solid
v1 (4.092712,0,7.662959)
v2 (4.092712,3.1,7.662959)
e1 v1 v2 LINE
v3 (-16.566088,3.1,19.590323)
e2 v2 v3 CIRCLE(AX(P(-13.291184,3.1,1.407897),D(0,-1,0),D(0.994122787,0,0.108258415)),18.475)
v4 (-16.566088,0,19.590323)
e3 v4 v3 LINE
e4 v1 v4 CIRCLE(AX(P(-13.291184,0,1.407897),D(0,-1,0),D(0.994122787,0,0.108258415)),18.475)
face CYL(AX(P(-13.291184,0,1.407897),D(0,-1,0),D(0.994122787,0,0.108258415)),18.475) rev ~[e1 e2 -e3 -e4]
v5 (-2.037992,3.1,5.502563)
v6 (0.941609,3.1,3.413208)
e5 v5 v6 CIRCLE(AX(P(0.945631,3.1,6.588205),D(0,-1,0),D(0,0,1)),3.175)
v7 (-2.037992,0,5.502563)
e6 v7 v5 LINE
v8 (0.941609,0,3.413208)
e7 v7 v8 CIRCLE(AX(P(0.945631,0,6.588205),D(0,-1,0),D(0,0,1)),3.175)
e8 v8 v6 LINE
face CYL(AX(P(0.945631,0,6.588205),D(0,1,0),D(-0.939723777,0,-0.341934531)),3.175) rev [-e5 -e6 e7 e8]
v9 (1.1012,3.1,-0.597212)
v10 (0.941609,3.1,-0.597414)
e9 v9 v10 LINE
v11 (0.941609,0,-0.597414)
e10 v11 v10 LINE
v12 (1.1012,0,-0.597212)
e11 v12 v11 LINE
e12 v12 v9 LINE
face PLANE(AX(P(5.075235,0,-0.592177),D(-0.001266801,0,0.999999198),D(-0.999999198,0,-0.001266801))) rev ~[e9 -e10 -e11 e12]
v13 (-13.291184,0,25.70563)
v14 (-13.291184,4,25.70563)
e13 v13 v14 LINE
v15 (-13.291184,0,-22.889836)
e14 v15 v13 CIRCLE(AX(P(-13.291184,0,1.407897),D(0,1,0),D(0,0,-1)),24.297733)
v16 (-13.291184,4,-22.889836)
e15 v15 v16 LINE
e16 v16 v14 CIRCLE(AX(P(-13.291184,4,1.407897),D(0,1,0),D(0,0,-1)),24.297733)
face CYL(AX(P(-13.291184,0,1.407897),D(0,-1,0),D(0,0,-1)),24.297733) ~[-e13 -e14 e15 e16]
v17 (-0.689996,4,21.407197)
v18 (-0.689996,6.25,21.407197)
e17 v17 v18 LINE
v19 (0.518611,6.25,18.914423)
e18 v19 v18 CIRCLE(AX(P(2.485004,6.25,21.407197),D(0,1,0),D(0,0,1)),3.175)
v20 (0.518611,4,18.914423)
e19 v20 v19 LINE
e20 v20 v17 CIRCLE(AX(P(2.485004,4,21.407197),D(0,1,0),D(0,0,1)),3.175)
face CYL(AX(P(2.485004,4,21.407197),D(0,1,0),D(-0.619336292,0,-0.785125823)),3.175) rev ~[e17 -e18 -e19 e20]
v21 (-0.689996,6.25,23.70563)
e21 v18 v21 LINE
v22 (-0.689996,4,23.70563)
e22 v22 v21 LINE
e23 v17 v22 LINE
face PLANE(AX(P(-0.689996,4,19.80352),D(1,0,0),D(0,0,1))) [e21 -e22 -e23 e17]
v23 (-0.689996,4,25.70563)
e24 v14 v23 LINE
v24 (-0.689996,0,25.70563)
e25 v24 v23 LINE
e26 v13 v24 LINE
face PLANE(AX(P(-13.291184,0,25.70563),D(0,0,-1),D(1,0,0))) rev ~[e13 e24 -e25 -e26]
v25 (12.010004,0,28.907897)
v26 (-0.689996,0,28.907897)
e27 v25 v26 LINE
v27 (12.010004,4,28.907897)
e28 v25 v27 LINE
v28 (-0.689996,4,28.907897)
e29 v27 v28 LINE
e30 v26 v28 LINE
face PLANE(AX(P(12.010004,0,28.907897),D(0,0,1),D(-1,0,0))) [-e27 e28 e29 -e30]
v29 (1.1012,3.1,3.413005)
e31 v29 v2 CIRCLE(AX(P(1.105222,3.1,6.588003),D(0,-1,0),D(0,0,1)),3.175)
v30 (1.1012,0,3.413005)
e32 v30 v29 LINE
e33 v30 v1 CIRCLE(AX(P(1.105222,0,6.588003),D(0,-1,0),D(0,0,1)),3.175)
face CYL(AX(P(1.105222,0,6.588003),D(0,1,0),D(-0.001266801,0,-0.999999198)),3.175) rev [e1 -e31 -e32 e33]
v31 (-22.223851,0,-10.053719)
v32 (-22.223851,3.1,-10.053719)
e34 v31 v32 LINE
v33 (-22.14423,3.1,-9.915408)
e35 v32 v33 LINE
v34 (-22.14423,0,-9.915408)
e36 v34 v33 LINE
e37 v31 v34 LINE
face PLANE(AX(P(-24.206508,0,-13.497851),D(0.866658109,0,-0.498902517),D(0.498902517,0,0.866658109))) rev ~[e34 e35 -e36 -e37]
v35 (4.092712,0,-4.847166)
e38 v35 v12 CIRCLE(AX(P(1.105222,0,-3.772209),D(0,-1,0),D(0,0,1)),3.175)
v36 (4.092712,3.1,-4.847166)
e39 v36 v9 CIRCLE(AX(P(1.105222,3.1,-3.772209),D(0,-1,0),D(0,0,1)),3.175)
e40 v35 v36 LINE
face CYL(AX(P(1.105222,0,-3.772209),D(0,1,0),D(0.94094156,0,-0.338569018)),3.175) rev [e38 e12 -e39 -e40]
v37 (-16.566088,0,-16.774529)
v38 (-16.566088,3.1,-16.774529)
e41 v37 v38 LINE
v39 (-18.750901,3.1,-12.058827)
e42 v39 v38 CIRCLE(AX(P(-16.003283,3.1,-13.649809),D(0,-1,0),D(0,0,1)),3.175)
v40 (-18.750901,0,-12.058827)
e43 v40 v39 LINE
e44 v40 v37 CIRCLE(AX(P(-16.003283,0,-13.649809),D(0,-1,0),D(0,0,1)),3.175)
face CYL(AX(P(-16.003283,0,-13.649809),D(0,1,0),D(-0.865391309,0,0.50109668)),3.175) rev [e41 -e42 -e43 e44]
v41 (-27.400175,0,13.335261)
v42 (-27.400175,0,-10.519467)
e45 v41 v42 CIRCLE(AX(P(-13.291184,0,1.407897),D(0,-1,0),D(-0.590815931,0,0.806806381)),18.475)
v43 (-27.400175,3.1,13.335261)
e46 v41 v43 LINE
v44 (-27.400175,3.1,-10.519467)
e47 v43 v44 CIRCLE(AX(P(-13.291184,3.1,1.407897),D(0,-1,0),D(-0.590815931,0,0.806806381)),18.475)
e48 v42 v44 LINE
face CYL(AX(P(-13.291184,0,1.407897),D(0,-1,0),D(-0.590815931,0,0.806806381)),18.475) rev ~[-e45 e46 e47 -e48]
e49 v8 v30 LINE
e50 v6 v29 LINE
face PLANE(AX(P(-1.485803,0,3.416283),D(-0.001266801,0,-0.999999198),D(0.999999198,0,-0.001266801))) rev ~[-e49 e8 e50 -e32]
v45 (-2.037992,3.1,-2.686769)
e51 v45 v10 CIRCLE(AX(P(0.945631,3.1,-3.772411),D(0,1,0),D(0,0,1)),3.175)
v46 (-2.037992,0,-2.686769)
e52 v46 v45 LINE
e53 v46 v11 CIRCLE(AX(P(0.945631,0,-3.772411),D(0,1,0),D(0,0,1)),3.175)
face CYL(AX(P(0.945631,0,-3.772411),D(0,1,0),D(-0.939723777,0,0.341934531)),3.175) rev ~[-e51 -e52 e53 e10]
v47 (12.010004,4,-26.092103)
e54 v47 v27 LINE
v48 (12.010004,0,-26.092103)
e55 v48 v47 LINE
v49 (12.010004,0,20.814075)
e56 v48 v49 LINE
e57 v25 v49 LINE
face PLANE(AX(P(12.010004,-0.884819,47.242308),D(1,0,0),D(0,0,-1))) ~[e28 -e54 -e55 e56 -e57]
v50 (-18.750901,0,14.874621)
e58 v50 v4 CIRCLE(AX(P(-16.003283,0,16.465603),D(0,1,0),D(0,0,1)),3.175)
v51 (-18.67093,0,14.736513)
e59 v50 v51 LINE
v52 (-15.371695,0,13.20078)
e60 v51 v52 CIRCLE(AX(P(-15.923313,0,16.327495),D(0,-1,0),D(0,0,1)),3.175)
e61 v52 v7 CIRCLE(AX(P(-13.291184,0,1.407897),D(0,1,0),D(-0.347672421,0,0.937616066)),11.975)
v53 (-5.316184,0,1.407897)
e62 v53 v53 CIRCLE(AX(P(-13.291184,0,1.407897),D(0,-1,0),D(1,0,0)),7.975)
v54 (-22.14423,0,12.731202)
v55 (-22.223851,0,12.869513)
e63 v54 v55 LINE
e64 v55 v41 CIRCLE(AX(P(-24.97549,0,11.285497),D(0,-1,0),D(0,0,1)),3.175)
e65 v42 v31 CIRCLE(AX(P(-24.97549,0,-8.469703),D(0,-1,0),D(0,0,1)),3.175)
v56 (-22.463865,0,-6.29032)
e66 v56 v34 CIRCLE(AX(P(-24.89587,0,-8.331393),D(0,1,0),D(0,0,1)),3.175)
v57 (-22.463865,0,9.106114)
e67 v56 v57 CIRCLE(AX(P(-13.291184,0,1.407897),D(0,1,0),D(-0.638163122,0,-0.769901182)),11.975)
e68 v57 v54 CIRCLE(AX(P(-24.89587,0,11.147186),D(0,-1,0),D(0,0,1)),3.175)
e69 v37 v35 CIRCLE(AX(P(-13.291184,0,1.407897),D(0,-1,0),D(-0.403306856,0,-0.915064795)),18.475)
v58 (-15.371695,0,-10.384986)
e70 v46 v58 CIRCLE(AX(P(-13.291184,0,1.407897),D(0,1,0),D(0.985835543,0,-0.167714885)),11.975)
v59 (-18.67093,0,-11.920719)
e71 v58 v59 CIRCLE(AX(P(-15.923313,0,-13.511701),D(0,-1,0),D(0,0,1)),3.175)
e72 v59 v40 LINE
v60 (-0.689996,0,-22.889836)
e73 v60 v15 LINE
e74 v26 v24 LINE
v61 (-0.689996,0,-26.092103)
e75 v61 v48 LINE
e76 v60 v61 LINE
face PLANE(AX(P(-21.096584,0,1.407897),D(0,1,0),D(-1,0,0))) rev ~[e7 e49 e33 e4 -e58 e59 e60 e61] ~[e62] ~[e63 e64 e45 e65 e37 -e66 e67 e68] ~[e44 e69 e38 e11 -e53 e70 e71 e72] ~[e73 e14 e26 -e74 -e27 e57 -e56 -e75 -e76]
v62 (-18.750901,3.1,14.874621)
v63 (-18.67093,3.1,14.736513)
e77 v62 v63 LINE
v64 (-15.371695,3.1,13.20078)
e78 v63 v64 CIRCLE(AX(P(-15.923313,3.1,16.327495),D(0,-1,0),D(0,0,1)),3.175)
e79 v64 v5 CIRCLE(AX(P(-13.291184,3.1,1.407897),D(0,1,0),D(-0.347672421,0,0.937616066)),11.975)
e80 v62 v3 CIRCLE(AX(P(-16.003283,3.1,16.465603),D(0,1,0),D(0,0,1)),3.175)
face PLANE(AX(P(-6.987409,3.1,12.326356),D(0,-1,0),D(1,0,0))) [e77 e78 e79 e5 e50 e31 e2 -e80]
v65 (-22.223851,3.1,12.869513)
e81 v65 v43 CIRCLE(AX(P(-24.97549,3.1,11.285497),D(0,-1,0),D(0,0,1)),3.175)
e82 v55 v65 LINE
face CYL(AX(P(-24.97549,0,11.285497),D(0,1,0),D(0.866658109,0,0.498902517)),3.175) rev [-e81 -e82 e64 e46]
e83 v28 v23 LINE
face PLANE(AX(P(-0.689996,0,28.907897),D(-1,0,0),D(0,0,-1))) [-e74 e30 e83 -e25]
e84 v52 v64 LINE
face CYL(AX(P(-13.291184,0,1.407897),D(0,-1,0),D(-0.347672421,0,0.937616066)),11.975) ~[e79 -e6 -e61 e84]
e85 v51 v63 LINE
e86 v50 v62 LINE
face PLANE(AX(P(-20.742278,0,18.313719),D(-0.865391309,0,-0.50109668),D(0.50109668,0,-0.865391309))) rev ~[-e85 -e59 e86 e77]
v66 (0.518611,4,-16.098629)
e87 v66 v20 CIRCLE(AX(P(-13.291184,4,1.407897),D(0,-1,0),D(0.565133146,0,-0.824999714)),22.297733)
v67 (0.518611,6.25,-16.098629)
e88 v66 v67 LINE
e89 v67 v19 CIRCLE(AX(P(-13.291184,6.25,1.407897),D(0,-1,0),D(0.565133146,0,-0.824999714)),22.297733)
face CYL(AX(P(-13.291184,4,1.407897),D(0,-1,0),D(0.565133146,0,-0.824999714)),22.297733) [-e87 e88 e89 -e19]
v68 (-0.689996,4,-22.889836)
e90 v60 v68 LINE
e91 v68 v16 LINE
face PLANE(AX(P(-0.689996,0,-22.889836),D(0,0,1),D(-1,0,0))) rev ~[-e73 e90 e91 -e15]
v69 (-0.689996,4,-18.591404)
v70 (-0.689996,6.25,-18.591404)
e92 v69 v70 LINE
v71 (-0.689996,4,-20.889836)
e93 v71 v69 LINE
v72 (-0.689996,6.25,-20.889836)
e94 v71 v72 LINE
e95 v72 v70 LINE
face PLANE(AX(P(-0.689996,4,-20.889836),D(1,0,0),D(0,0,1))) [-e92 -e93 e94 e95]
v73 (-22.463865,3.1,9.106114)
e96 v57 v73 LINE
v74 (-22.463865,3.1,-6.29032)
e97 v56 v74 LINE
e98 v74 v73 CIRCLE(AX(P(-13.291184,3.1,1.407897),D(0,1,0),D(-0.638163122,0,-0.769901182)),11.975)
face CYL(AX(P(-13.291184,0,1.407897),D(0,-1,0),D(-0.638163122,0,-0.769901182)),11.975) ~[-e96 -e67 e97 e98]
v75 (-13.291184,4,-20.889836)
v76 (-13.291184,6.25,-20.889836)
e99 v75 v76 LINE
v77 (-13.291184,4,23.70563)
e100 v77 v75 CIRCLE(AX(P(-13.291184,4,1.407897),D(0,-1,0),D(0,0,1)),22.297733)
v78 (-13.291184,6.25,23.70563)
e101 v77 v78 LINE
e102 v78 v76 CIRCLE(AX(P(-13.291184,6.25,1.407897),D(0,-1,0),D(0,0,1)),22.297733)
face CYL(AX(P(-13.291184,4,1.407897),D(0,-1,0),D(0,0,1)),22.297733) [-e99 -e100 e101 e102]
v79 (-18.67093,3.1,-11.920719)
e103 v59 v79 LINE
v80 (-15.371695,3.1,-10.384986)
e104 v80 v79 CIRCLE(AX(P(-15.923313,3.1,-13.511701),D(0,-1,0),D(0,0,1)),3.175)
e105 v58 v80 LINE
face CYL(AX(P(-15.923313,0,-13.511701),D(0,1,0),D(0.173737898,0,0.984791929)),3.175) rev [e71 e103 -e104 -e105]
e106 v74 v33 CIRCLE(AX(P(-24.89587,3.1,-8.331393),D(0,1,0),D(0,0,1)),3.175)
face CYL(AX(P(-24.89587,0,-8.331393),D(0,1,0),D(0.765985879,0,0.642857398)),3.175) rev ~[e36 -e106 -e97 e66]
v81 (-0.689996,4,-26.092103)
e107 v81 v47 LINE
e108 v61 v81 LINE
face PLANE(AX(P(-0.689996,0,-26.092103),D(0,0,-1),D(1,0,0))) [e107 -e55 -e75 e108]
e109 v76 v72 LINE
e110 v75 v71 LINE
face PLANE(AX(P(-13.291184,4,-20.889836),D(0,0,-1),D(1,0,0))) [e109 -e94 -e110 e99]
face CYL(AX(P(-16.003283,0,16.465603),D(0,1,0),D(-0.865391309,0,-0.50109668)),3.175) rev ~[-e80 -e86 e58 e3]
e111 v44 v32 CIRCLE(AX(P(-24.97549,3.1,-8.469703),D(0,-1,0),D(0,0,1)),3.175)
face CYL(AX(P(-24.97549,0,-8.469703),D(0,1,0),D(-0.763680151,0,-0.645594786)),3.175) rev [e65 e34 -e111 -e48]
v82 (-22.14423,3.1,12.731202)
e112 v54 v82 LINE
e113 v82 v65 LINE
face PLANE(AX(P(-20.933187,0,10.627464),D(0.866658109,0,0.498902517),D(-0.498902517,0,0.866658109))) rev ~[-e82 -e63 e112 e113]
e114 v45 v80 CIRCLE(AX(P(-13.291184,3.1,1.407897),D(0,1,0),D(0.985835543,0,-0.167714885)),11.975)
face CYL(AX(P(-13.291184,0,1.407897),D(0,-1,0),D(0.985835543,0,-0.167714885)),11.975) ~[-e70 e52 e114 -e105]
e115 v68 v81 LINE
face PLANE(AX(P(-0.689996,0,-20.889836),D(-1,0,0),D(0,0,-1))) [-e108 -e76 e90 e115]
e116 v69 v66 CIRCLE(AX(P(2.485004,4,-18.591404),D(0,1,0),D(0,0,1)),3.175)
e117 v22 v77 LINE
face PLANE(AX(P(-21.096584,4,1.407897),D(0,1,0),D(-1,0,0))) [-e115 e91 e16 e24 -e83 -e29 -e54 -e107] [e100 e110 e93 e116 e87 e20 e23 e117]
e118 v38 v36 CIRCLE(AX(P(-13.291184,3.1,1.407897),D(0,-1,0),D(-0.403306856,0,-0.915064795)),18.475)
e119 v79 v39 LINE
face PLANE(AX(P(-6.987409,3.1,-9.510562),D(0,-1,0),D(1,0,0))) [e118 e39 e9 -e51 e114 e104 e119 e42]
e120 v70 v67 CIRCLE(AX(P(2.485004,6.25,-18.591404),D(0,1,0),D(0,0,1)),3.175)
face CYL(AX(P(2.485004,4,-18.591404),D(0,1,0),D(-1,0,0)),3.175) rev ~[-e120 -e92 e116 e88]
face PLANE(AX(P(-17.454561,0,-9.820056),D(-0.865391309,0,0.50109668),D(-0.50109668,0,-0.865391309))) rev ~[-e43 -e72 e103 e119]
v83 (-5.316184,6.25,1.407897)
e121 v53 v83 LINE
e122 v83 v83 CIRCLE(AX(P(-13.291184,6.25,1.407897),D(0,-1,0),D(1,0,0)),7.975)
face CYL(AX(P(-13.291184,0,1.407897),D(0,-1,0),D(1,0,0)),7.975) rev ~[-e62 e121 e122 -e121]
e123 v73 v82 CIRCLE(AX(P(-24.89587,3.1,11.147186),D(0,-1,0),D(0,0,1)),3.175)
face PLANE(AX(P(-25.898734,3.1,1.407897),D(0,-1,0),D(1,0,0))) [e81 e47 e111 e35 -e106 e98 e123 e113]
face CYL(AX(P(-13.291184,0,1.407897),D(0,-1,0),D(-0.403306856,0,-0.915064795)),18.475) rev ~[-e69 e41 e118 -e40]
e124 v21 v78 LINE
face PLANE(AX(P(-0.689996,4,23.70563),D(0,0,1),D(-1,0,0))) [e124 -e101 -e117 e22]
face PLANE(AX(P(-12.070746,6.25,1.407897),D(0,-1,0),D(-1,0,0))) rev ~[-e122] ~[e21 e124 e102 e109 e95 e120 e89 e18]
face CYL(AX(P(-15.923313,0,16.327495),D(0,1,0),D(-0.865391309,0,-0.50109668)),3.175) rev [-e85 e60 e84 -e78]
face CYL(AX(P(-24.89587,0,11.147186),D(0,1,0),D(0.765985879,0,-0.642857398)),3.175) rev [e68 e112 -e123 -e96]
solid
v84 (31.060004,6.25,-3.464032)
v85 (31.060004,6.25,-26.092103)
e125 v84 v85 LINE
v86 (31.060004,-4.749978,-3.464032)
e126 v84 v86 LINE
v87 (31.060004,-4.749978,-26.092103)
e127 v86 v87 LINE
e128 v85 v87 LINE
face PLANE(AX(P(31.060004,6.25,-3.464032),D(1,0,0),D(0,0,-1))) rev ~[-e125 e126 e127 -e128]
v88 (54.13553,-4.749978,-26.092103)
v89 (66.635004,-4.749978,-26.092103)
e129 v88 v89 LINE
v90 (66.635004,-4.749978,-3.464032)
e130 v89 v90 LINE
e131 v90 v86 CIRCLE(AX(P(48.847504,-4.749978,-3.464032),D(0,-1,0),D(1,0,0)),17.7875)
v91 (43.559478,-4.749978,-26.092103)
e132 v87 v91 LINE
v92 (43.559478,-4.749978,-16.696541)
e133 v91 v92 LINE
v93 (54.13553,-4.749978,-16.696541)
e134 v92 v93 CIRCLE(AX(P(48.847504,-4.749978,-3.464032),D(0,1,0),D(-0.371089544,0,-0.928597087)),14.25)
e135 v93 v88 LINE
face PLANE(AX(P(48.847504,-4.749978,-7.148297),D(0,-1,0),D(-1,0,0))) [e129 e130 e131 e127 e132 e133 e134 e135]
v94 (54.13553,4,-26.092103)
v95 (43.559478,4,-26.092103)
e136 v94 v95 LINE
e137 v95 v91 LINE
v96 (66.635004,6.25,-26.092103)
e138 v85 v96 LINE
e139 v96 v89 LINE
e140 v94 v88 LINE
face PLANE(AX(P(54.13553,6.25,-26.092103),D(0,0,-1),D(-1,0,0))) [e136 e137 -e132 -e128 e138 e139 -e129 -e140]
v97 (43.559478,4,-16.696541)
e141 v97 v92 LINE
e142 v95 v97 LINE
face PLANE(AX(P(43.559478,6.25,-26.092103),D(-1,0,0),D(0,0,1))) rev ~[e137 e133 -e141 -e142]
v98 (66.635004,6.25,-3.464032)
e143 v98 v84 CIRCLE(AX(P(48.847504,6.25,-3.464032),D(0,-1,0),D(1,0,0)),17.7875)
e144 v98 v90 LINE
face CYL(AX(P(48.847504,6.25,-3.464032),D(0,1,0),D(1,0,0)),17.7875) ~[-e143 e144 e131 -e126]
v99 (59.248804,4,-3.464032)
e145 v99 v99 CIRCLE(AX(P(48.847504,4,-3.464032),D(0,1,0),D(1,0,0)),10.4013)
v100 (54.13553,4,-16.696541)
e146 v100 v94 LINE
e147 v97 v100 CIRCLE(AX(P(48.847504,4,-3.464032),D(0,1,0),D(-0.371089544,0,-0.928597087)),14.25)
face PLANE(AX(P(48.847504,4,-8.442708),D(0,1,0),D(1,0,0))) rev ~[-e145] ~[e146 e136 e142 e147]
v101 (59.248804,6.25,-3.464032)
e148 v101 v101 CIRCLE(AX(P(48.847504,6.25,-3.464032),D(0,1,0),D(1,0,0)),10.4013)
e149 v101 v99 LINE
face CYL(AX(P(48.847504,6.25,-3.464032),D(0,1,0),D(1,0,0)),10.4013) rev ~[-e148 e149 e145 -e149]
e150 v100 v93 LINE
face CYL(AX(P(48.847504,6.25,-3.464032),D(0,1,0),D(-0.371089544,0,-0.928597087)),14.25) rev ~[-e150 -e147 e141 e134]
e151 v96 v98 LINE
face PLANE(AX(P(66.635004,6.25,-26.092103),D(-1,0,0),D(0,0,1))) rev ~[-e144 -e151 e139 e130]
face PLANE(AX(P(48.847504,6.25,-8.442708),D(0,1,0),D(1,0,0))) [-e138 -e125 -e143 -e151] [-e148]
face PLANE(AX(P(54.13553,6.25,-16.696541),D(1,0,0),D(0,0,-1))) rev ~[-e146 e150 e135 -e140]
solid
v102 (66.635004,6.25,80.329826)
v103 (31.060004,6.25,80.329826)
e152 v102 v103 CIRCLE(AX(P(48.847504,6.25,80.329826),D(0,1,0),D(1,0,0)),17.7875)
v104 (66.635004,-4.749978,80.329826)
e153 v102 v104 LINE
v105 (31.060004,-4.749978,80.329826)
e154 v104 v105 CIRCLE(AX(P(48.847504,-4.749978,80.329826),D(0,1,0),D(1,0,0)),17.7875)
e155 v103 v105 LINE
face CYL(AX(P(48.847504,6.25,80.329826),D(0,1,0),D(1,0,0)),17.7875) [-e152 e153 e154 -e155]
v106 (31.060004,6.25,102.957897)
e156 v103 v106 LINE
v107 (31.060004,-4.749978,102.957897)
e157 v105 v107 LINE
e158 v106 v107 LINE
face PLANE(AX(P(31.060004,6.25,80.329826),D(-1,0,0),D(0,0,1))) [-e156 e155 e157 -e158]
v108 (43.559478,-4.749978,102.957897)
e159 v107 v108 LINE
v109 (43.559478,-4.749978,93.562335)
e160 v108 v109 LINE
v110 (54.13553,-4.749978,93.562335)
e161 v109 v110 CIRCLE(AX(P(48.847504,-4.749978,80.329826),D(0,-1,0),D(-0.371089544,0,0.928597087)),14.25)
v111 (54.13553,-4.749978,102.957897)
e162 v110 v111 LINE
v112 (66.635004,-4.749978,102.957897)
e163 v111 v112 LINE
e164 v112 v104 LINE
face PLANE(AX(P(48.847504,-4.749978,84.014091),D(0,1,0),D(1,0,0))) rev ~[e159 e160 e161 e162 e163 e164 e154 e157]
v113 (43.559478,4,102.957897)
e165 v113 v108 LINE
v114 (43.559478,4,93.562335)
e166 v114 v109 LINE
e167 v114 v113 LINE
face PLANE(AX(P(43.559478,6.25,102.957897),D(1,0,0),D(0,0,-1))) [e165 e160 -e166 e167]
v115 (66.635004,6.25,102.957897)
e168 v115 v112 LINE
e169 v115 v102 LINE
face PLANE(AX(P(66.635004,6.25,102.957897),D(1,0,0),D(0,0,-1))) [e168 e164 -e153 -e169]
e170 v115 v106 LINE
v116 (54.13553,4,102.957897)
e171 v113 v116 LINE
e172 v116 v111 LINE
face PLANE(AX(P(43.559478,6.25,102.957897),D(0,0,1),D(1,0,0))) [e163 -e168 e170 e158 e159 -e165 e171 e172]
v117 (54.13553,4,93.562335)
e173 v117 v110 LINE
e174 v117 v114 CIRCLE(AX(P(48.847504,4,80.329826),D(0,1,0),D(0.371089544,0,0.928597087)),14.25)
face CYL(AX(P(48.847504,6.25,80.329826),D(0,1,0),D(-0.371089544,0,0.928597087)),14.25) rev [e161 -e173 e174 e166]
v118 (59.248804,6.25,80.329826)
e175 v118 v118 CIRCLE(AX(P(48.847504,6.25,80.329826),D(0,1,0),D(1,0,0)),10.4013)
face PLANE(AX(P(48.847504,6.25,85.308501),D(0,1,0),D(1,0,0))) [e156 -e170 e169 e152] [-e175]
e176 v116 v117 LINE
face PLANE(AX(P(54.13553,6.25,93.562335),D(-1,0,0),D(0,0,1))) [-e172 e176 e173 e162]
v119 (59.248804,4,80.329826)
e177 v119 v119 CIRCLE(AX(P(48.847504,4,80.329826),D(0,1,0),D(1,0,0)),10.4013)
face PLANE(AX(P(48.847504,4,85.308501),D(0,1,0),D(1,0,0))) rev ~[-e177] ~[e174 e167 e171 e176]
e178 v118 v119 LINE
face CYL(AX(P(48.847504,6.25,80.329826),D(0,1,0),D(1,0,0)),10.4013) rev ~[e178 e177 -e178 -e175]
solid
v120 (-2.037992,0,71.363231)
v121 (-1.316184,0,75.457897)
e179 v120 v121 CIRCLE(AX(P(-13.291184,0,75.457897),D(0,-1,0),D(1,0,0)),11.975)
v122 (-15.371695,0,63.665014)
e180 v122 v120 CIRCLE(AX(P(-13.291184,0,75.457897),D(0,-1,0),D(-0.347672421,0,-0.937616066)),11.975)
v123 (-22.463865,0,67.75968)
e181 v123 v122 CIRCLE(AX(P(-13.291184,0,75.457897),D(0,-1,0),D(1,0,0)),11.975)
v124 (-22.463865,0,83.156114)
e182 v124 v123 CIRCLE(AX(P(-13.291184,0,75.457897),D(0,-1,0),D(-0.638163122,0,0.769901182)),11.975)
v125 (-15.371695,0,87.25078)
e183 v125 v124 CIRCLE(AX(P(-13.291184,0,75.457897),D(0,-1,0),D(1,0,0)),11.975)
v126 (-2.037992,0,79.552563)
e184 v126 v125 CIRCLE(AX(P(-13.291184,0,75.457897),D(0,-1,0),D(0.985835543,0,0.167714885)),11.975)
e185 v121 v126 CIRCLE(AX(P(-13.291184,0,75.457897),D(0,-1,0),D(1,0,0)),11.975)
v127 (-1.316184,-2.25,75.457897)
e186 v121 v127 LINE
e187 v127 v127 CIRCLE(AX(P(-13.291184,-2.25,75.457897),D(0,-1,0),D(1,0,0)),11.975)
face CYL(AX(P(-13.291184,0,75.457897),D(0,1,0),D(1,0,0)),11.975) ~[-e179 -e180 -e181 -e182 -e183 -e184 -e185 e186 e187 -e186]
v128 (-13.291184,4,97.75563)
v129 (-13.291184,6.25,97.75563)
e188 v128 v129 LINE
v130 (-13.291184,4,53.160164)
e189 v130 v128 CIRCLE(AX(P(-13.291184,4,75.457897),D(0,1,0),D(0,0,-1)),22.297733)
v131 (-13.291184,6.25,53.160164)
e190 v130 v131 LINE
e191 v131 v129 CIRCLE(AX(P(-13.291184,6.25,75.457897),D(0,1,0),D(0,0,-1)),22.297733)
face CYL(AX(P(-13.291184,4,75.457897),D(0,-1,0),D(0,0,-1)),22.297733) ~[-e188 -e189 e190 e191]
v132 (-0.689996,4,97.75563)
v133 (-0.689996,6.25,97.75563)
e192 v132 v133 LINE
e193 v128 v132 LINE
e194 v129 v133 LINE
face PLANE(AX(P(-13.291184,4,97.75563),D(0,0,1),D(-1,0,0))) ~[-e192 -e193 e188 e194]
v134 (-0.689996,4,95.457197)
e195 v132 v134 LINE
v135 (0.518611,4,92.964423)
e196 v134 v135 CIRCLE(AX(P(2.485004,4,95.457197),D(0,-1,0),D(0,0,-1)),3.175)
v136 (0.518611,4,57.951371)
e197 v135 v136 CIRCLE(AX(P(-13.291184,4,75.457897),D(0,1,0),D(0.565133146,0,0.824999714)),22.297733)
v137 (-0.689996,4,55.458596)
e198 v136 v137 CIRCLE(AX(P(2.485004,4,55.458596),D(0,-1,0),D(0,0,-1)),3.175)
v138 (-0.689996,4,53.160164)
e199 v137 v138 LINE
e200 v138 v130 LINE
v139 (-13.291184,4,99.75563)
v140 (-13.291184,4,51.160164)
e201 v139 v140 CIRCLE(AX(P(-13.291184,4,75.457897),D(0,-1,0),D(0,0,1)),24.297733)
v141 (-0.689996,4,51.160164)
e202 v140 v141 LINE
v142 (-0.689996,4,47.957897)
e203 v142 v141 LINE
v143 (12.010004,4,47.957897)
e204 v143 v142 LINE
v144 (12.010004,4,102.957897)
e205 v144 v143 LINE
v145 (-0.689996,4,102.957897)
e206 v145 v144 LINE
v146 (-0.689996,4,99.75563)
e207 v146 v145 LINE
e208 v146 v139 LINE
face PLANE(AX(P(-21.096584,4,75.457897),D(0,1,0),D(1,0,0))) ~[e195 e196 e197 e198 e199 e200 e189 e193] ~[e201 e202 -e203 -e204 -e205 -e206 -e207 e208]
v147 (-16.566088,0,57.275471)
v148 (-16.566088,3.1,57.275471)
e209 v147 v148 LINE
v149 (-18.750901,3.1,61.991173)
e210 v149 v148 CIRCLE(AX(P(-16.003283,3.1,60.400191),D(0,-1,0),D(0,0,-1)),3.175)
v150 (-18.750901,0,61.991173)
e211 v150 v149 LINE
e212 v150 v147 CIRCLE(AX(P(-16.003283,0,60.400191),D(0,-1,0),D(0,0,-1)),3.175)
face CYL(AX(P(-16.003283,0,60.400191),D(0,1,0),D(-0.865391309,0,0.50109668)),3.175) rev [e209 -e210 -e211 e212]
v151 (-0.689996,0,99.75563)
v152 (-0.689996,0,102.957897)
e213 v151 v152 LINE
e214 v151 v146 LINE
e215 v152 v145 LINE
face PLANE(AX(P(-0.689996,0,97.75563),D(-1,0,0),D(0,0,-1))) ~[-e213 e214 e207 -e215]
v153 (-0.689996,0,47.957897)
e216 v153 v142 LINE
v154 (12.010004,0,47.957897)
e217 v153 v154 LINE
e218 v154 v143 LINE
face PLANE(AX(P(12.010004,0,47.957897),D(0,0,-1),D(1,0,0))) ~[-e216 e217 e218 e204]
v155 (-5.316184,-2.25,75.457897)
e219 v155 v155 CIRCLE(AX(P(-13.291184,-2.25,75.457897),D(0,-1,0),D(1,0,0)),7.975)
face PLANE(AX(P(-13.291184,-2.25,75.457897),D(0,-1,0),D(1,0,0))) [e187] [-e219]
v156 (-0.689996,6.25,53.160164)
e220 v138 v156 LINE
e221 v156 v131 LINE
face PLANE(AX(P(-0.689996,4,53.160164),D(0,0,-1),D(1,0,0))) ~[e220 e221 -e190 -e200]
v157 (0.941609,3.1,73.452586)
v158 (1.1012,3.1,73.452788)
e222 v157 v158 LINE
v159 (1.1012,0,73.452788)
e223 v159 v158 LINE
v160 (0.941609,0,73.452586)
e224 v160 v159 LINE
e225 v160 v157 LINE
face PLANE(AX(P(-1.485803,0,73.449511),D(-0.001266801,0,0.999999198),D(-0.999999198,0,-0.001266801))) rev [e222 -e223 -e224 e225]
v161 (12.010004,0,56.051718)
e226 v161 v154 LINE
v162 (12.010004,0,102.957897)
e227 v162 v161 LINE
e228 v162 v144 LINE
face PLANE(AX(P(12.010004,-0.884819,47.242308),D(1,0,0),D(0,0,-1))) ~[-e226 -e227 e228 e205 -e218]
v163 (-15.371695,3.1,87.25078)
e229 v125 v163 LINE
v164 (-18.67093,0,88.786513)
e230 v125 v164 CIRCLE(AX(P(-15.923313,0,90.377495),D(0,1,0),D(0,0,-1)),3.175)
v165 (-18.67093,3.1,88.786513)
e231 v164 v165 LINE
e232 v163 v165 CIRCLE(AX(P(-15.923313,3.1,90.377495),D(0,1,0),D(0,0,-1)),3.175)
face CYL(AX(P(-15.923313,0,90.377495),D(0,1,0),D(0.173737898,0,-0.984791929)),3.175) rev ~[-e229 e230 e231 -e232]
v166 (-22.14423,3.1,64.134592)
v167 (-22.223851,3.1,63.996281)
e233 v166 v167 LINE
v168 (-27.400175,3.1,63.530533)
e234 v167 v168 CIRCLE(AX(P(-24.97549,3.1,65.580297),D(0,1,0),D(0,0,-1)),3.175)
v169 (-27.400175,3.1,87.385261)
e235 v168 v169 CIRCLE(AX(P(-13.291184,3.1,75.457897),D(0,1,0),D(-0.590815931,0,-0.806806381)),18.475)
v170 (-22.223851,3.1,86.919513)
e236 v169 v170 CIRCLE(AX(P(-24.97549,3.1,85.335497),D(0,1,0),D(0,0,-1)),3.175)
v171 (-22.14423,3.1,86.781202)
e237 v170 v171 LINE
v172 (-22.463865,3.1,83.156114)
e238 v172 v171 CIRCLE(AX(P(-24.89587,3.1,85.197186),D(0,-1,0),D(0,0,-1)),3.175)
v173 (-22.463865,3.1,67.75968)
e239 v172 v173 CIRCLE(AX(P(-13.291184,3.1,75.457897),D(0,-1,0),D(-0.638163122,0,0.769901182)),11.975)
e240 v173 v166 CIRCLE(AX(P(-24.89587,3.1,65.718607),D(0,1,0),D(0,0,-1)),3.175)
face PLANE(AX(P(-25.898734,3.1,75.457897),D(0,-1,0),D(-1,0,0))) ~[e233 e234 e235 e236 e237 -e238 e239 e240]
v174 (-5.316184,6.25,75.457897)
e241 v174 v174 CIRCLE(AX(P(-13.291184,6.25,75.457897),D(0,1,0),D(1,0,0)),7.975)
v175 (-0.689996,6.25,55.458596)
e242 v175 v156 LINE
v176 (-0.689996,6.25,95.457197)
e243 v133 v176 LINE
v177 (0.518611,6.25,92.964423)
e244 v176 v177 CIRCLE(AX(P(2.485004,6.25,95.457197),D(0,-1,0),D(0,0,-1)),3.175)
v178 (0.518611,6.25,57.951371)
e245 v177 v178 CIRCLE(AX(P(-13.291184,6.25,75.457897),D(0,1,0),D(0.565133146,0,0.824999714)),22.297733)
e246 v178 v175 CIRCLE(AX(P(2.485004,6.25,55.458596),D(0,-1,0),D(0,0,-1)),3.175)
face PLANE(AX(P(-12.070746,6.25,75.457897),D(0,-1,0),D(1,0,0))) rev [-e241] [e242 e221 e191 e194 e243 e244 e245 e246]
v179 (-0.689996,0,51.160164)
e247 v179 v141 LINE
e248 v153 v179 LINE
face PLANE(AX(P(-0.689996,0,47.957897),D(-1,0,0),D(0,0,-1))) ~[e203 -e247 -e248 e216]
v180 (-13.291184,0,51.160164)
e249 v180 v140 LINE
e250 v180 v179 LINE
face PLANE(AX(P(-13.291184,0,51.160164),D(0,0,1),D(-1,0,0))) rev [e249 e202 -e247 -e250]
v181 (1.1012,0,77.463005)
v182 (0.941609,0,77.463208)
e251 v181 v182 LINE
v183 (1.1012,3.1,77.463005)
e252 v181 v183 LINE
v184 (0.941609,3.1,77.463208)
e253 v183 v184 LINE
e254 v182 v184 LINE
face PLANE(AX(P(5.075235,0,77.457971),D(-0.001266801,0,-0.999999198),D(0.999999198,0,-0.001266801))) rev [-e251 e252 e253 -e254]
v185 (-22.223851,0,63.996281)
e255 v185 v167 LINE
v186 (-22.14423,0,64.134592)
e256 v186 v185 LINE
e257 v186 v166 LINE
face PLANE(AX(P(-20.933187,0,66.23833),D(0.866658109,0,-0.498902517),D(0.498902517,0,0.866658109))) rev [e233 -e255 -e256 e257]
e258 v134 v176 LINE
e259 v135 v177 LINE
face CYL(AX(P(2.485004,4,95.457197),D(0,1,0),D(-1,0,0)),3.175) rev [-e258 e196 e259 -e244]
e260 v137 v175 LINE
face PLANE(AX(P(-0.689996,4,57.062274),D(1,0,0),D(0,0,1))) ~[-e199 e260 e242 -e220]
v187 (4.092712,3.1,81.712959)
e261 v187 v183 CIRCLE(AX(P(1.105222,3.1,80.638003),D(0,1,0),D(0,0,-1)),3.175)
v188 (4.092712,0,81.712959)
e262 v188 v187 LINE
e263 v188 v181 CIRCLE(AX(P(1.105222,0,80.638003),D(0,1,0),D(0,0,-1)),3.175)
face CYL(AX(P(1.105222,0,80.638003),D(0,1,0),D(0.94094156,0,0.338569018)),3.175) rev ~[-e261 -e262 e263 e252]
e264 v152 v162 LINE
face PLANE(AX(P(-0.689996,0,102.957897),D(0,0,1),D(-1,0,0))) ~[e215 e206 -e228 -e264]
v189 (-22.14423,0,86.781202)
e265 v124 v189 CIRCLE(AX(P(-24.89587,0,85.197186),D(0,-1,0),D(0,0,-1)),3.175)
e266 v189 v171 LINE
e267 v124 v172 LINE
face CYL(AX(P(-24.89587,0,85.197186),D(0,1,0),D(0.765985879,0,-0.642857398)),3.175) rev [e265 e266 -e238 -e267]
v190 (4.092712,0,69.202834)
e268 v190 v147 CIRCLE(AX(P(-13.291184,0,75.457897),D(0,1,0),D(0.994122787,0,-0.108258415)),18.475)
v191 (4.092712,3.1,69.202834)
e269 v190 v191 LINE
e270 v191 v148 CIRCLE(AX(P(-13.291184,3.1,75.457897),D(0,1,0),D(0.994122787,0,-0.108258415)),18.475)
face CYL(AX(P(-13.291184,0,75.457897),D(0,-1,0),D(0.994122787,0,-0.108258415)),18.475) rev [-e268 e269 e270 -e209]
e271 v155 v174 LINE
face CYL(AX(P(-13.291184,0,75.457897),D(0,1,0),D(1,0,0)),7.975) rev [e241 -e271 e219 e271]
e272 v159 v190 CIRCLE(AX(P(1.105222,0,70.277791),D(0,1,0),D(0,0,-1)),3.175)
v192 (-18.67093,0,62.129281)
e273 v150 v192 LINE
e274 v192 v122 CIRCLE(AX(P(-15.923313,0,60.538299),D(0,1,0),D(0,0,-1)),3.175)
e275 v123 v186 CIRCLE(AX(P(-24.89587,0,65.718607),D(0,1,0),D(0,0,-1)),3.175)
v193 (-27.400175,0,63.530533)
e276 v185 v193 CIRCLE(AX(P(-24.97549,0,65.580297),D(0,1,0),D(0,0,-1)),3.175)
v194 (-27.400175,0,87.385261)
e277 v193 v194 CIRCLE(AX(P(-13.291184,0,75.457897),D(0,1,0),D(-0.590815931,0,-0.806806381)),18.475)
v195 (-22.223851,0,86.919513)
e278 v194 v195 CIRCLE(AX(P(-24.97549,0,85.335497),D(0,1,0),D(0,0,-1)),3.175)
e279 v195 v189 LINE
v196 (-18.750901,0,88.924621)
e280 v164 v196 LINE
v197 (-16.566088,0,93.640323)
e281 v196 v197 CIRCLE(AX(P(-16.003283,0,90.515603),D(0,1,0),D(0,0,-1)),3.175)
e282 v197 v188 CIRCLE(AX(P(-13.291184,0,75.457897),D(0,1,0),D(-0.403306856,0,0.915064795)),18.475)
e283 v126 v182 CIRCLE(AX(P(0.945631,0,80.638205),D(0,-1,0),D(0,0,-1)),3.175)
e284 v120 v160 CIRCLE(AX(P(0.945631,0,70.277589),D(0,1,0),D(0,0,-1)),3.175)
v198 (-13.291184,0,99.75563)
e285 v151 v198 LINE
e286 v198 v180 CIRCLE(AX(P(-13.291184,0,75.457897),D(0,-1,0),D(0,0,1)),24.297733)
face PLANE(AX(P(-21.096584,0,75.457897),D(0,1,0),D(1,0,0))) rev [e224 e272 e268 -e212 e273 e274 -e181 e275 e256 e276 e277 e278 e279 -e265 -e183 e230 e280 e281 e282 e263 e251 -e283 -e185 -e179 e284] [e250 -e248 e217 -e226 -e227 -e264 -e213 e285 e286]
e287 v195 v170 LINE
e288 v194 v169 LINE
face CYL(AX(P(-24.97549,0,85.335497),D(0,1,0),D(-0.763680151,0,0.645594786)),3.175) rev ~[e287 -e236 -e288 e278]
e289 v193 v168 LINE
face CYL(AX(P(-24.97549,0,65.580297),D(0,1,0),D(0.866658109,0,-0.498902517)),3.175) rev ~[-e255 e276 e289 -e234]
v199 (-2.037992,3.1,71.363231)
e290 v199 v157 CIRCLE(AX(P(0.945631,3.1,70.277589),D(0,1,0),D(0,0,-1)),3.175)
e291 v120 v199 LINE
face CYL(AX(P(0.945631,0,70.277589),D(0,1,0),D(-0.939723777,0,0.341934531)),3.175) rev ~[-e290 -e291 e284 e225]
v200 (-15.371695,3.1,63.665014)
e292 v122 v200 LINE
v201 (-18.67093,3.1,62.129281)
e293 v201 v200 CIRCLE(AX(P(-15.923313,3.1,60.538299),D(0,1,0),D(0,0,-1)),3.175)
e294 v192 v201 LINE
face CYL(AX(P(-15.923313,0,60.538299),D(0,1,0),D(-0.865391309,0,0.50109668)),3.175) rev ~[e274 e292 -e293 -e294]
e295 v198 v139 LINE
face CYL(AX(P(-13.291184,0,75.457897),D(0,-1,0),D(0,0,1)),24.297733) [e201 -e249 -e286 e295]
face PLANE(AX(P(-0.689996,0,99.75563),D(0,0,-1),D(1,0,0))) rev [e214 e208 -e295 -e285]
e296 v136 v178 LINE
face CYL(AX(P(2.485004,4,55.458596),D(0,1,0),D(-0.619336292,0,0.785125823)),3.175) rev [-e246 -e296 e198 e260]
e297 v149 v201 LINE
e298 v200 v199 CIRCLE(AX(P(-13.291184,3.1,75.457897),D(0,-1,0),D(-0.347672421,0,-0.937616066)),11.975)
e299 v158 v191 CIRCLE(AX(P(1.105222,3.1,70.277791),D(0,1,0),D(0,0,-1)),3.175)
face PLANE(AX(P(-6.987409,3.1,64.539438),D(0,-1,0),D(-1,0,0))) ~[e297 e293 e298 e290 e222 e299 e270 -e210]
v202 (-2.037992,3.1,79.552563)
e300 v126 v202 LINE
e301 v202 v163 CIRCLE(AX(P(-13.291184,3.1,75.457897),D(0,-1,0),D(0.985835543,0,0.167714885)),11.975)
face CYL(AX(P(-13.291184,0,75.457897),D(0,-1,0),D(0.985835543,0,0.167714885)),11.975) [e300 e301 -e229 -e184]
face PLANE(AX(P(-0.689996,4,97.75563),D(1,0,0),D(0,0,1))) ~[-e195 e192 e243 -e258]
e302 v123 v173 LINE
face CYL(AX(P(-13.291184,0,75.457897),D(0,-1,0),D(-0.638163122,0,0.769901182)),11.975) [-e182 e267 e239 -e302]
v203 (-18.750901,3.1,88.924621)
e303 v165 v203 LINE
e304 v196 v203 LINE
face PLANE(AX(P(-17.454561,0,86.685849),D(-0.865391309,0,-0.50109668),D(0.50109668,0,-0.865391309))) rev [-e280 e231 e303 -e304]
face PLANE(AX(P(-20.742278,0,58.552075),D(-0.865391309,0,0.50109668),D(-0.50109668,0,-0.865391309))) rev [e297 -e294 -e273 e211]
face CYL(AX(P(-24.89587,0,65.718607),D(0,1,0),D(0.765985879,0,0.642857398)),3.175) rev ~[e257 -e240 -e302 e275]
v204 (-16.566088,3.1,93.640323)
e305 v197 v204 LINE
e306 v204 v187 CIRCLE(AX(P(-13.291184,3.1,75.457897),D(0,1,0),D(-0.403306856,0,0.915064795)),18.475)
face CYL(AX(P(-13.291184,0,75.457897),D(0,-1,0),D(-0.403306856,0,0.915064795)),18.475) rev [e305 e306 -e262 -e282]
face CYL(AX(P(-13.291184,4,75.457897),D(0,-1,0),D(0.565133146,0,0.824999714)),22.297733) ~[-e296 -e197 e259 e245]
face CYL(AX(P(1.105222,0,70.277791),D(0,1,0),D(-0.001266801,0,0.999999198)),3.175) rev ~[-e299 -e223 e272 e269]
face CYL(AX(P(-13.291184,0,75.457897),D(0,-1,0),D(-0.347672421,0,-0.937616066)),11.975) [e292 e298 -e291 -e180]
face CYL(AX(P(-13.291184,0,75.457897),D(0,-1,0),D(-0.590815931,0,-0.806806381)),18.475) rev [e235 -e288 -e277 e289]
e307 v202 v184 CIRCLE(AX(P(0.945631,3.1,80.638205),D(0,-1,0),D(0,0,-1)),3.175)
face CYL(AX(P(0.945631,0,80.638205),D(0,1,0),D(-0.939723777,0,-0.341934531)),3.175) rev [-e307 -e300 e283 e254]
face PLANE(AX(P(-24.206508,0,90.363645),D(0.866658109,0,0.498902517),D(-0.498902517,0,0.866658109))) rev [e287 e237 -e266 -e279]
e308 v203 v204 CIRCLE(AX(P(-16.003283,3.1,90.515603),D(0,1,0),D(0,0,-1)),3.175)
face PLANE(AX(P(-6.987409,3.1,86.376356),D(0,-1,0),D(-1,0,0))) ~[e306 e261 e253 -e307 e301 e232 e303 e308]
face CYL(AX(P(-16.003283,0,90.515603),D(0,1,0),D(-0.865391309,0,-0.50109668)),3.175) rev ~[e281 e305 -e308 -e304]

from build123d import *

# Parameters (mm, degrees)
BOSS_EXTRUDE1_DEPTH   = 4
BOSS_EXTRUDE2_DEPTH   = 2.25
SKETCH3_R             = 7.975
CUT_EXTRUDE1_DEPTH    = 9.25
CUT_EXTRUDE3_DEPTH    = 3.1
FILLET1_R             = 3.175
BOSS_EXTRUDE3_DEPTH   = 4
FILLET3_R             = 3.175
SKETCH7_W             = 17.618821415
SKETCH7_H             = 1.769638423
BOSS_EXTRUDE4_DEPTH   = 10
SKETCH8_W             = 35.23764283
SKETCH8_H             = 1.769638423
CUT_EXTRUDE4_DEPTH    = 10
SKETCH9_R             = 11.975
SKETCH9_R_2           = 7.975
BOSS_EXTRUDE5_DEPTH   = 2.25
BOSS_EXTRUDE6_DEPTH   = 10.999978
BOSS_EXTRUDE6_2_DEPTH = 10.999978
SKETCH11_R            = 10.4013
BOSS_EXTRUDE9_DEPTH   = 2.250000072


with BuildPart() as part:
    # Sketch1 → Boss-Extrude1 (new body)
    with BuildSketch(Plane(origin=(0, 0, 0), x_dir=(1, 0, 0), z_dir=(0, 1, 0))):
        with BuildLine():
            Line((-13.29118379, 20.889836125), (-0.68999579, 20.889836125))
            Line((-0.68999579, 20.889836125), (-0.68999579, 24.09210312))
            Line((-0.68999579, 24.09210312), (-0.68999579, 26.09210312))
            Line((-0.68999579, 26.09210312), (12.01000421, 26.09210312))
            Line((12.01000421, 26.09210312), (12.01000421, 24.09210312))
            Line((12.01000421, 24.09210312), (12.01000421, -26.90789688))
            Line((12.01000421, -26.90789688), (12.01000421, -28.90789688))
            Line((12.01000421, -28.90789688), (-0.68999579, -28.90789688))
            Line((-0.68999579, -28.90789688), (-0.68999579, -26.90789688))
            Line((-0.68999579, -26.90789688), (-0.68999579, -23.705629885))
            Line((-0.68999579, -23.705629885), (-13.29118379, -23.705629885))
            ThreePointArc((-13.29118379, -23.705629885), (-35.588916795, -1.40789688), (-13.29118379, 20.889836125))
        make_face()
    extrude(amount=BOSS_EXTRUDE1_DEPTH)

    # Sketch2 → Boss-Extrude2 (add)
    with BuildSketch(Plane(origin=(0, 4, 0), x_dir=(1, 0, 0), z_dir=(0, 1, 0))):
        with BuildLine():
            Line((-0.68999579, 20.889836125), (-0.68999579, 16.987726462))
            ThreePointArc((-0.68999579, 16.987726462), (9.006549215, -1.40789688), (-0.68999579, -19.803520222))
            Line((-0.68999579, -19.803520222), (-0.68999579, -23.705629885))
            Line((-0.68999579, -23.705629885), (-13.29118379, -23.705629885))
            ThreePointArc((-13.29118379, -23.705629885), (-35.588916795, -1.40789688), (-13.29118379, 20.889836125))
            Line((-13.29118379, 20.889836125), (-0.68999579, 20.889836125))
        make_face()
    extrude(amount=BOSS_EXTRUDE2_DEPTH)

    # Sketch3 → Cut-Extrude1 (cut)
    with BuildSketch(Plane.XZ):
        with Locations((-13.29118379, 1.40789688)):
            Circle(SKETCH3_R)
    extrude(amount=-CUT_EXTRUDE1_DEPTH, mode=Mode.SUBTRACT)

    # Sketch5 → Cut-Extrude3 (cut)
    with BuildSketch(Plane.XZ):
        with BuildLine():
            ThreePointArc((-20.933187177, -7.811669771), (-25.26618379, 1.40789688), (-20.933187177, 10.62746353))
            Line((-20.933187177, 10.62746353), (-24.206508111, 16.313644763))
            ThreePointArc((-24.206508111, 16.313644763), (-31.76618379, 1.40789688), (-24.206508111, -13.497851004))
            Line((-24.206508111, -13.497851004), (-20.933187177, -7.811669771))
        make_face()
        with BuildLine():
            Line((-20.742277958, 18.313718974), (-17.454561027, 12.635849274))
            ThreePointArc((-17.454561027, 12.635849274), (-7.30368379, 11.77855109), (-1.485803165, 3.416282624))
            Line((-1.485803165, 3.416282624), (5.0752347, 3.407971091))
            ThreePointArc((5.0752347, 3.407971091), (-4.05368379, 17.407716215), (-20.742277958, 18.313718974))
        make_face()
        with BuildLine():
            ThreePointArc((-1.485803165, -0.600488865), (-7.30368379, -8.962757331), (-17.454561027, -9.820055515))
            Line((-17.454561027, -9.820055515), (-20.742277958, -15.497925215))
            ThreePointArc((-20.742277958, -15.497925215), (-4.05368379, -14.591922455), (5.0752347, -0.592177331))
            Line((5.0752347, -0.592177331), (-1.485803165, -0.600488865))
        make_face()
    extrude(amount=-CUT_EXTRUDE3_DEPTH, mode=Mode.SUBTRACT)

    # Fillet1
    fillet1_edges = [part.edges().sort_by_distance(p)[0] for p in [
        (5.0752347, 1.55, 3.407971091),
        (-1.485803165, 1.55, 3.416282624),
        (5.0752347, 1.55, -0.592177331),
        (-24.206508111, 1.55, 16.313644763),
        (-20.742277958, 1.55, 18.313718974),
        (-1.485803165, 1.55, -0.600488865),
        (-20.742277958, 1.55, -15.497925215),
        (-20.933187177, 1.55, 10.62746353),
        (-20.933187177, 1.55, -7.811669771),
        (-24.206508111, 1.55, -13.497851004),
        (-17.454561027, 1.55, -9.820055515),
        (-17.454561027, 1.55, 12.635849274),
    ]]
    fillet(fillet1_edges, radius=FILLET1_R)

    # Sketch6 → Boss-Extrude3 (add)
    with BuildSketch(Plane.XZ):
        with BuildLine():
            Line((-0.68999579, -22.889836125), (-13.29118379, -22.889836125))
            ThreePointArc((-13.29118379, -22.889836125), (-37.588916795, 1.40789688), (-13.29118379, 25.705629885))
            Line((-13.29118379, 25.705629885), (-0.68999579, 25.705629885))
            Line((-0.68999579, 25.705629885), (-0.68999579, 23.705629885))
            Line((-0.68999579, 23.705629885), (-13.29118379, 23.705629885))
            ThreePointArc((-13.29118379, 23.705629885), (-35.588916795, 1.40789688), (-13.29118379, -20.889836125))
            Line((-13.29118379, -20.889836125), (-0.68999579, -20.889836125))
            Line((-0.68999579, -20.889836125), (-0.68999579, -22.889836125))
        make_face()
    extrude(amount=-BOSS_EXTRUDE3_DEPTH)

    # Fillet3
    fillet3_edges = [part.edges().sort_by_distance(p)[0] for p in [
        (-0.68999579, 5.125, -16.987726462),
        (-0.68999579, 5.125, 19.803520222),
    ]]
    fillet(fillet3_edges, radius=FILLET3_R)

    # Sketch7 → Boss-Extrude4 (add)
    with BuildSketch(Plane(origin=(12.01000421, 0, 0), x_dir=(0, 0, -1), z_dir=(1, 0, 0))):
        with Locations((-29.623486173, -0.884819212)):
            Rectangle(SKETCH7_W, SKETCH7_H)
    extrude(amount=-BOSS_EXTRUDE4_DEPTH)

    # Mirror2: part across plane


with BuildPart() as part_1:
    add(part.part)
    add(part.part.mirror(Plane.XY.offset(38.43289688)))

    # Sketch8 → Cut-Extrude4 (cut)
    with BuildSketch(Plane(origin=(12.01000421, 0, 0), x_dir=(0, 0, -1), z_dir=(1, 0, 0))):
        with Locations((-38.43289688, -0.884819212)):
            Rectangle(SKETCH8_W, SKETCH8_H)
    extrude(amount=-CUT_EXTRUDE4_DEPTH, mode=Mode.SUBTRACT)


with BuildPart() as cut_extrude4_piece_1:
    # of the separate pieces the step leaves, piece 1, a body of its own (cut_extrude4_pieces)
    add(part_1.part.solids().sort_by_distance((12.01000421, 0, 102.95789688))[0])

    # Sketch9 → Boss-Extrude5 (add)
    with BuildSketch(Plane.XZ):
        with Locations((-13.29118379, 75.45789688)):
            Circle(SKETCH9_R)
        with Locations((-13.29118379, 75.45789688)):
            Circle(SKETCH9_R_2, mode=Mode.SUBTRACT)
    extrude(amount=BOSS_EXTRUDE5_DEPTH)


with BuildPart() as cut_extrude4_piece_2:
    # of the separate pieces the step leaves, piece 2, a body of its own (cut_extrude4_pieces)
    add(part_1.part.solids().sort_by_distance((-0.68999579, 4, -18.591403581))[0])


with BuildPart() as body_3:
    # Sketch10 → Boss-Extrude6 (new body)
    with BuildSketch(Plane(origin=(0, 6.25, 0), x_dir=(1, 0, 0), z_dir=(0, 1, 0))):
        with BuildLine():
            Line((31.06000421, -102.95789688), (43.55947821, -102.95789688))
            Line((43.55947821, -102.95789688), (43.55947821, -93.562334646))
            ThreePointArc((43.55947821, -93.562334646), (48.84750421, -66.079826153), (54.13553021, -93.562334646))
            Line((54.13553021, -93.562334646), (54.13553021, -102.95789688))
            Line((54.13553021, -102.95789688), (66.63500421, -102.95789688))
            Line((66.63500421, -102.95789688), (66.63500421, -80.329826153))
            ThreePointArc((66.63500421, -80.329826153), (48.84750421, -62.542326153), (31.06000421, -80.329826153))
            Line((31.06000421, -80.329826153), (31.06000421, -102.95789688))
        make_face()
    extrude(amount=-BOSS_EXTRUDE6_DEPTH)



with BuildPart() as body_4:
    # Sketch10 → Boss-Extrude6 2 (new body)
    with BuildSketch(Plane(origin=(0, 6.25, 0), x_dir=(1, 0, 0), z_dir=(0, 1, 0))):
        with BuildLine():
            Line((54.13553021, 26.09210312), (66.63500421, 26.09210312))
            Line((66.63500421, 26.09210312), (66.63500421, 3.464032394))
            ThreePointArc((66.63500421, 3.464032394), (48.84750421, -14.323467606), (31.06000421, 3.464032394))
            Line((31.06000421, 3.464032394), (31.06000421, 26.09210312))
            Line((31.06000421, 26.09210312), (43.55947821, 26.09210312))
            Line((43.55947821, 26.09210312), (43.55947821, 16.696540887))
            ThreePointArc((43.55947821, 16.696540887), (48.84750421, -10.785967606), (54.13553021, 16.696540887))
            Line((54.13553021, 16.696540887), (54.13553021, 26.09210312))
        make_face()
    extrude(amount=-BOSS_EXTRUDE6_2_DEPTH)


with BuildPart() as body_3_1:
    add(body_3.part)

    add(body_4.part)  # Boss-Extrude9 merges body 4
    # Sketch11 → Boss-Extrude9 (add)
    # profile 1 of 2: a face of its own
    with BuildSketch(Plane(origin=(0, 6.25, 0), x_dir=(1, 0, 0), z_dir=(0, 1, 0))):
        with BuildLine():
            Line((43.55947821, -102.95789688), (54.13553021, -102.95789688))
            Line((54.13553021, -102.95789688), (54.13553021, -93.562334646))
            ThreePointArc((54.13553021, -93.562334646), (48.84750421, -66.079826153), (43.55947821, -93.562334646))
            Line((43.55947821, -93.562334646), (43.55947821, -102.95789688))
        make_face()
        with Locations((48.84750421, -80.329826153)):
            Circle(SKETCH11_R, mode=Mode.SUBTRACT)
    # profile 2 of 2: a face of its own
    with BuildSketch(Plane(origin=(0, 6.25, 0), x_dir=(1, 0, 0), z_dir=(0, 1, 0))):
        with BuildLine():
            Line((54.13553021, 16.696540887), (54.13553021, 26.09210312))
            Line((54.13553021, 26.09210312), (43.55947821, 26.09210312))
            Line((43.55947821, 26.09210312), (43.55947821, 16.696540887))
            ThreePointArc((43.55947821, 16.696540887), (48.84750421, -10.785967606), (54.13553021, 16.696540887))
        make_face()
        with Locations((48.84750421, 3.464032394)):
            Circle(SKETCH11_R, mode=Mode.SUBTRACT)
    extrude(amount=-BOSS_EXTRUDE9_DEPTH)


solid = Compound([cut_extrude4_piece_1.part, cut_extrude4_piece_2.part, body_3_1.part])
